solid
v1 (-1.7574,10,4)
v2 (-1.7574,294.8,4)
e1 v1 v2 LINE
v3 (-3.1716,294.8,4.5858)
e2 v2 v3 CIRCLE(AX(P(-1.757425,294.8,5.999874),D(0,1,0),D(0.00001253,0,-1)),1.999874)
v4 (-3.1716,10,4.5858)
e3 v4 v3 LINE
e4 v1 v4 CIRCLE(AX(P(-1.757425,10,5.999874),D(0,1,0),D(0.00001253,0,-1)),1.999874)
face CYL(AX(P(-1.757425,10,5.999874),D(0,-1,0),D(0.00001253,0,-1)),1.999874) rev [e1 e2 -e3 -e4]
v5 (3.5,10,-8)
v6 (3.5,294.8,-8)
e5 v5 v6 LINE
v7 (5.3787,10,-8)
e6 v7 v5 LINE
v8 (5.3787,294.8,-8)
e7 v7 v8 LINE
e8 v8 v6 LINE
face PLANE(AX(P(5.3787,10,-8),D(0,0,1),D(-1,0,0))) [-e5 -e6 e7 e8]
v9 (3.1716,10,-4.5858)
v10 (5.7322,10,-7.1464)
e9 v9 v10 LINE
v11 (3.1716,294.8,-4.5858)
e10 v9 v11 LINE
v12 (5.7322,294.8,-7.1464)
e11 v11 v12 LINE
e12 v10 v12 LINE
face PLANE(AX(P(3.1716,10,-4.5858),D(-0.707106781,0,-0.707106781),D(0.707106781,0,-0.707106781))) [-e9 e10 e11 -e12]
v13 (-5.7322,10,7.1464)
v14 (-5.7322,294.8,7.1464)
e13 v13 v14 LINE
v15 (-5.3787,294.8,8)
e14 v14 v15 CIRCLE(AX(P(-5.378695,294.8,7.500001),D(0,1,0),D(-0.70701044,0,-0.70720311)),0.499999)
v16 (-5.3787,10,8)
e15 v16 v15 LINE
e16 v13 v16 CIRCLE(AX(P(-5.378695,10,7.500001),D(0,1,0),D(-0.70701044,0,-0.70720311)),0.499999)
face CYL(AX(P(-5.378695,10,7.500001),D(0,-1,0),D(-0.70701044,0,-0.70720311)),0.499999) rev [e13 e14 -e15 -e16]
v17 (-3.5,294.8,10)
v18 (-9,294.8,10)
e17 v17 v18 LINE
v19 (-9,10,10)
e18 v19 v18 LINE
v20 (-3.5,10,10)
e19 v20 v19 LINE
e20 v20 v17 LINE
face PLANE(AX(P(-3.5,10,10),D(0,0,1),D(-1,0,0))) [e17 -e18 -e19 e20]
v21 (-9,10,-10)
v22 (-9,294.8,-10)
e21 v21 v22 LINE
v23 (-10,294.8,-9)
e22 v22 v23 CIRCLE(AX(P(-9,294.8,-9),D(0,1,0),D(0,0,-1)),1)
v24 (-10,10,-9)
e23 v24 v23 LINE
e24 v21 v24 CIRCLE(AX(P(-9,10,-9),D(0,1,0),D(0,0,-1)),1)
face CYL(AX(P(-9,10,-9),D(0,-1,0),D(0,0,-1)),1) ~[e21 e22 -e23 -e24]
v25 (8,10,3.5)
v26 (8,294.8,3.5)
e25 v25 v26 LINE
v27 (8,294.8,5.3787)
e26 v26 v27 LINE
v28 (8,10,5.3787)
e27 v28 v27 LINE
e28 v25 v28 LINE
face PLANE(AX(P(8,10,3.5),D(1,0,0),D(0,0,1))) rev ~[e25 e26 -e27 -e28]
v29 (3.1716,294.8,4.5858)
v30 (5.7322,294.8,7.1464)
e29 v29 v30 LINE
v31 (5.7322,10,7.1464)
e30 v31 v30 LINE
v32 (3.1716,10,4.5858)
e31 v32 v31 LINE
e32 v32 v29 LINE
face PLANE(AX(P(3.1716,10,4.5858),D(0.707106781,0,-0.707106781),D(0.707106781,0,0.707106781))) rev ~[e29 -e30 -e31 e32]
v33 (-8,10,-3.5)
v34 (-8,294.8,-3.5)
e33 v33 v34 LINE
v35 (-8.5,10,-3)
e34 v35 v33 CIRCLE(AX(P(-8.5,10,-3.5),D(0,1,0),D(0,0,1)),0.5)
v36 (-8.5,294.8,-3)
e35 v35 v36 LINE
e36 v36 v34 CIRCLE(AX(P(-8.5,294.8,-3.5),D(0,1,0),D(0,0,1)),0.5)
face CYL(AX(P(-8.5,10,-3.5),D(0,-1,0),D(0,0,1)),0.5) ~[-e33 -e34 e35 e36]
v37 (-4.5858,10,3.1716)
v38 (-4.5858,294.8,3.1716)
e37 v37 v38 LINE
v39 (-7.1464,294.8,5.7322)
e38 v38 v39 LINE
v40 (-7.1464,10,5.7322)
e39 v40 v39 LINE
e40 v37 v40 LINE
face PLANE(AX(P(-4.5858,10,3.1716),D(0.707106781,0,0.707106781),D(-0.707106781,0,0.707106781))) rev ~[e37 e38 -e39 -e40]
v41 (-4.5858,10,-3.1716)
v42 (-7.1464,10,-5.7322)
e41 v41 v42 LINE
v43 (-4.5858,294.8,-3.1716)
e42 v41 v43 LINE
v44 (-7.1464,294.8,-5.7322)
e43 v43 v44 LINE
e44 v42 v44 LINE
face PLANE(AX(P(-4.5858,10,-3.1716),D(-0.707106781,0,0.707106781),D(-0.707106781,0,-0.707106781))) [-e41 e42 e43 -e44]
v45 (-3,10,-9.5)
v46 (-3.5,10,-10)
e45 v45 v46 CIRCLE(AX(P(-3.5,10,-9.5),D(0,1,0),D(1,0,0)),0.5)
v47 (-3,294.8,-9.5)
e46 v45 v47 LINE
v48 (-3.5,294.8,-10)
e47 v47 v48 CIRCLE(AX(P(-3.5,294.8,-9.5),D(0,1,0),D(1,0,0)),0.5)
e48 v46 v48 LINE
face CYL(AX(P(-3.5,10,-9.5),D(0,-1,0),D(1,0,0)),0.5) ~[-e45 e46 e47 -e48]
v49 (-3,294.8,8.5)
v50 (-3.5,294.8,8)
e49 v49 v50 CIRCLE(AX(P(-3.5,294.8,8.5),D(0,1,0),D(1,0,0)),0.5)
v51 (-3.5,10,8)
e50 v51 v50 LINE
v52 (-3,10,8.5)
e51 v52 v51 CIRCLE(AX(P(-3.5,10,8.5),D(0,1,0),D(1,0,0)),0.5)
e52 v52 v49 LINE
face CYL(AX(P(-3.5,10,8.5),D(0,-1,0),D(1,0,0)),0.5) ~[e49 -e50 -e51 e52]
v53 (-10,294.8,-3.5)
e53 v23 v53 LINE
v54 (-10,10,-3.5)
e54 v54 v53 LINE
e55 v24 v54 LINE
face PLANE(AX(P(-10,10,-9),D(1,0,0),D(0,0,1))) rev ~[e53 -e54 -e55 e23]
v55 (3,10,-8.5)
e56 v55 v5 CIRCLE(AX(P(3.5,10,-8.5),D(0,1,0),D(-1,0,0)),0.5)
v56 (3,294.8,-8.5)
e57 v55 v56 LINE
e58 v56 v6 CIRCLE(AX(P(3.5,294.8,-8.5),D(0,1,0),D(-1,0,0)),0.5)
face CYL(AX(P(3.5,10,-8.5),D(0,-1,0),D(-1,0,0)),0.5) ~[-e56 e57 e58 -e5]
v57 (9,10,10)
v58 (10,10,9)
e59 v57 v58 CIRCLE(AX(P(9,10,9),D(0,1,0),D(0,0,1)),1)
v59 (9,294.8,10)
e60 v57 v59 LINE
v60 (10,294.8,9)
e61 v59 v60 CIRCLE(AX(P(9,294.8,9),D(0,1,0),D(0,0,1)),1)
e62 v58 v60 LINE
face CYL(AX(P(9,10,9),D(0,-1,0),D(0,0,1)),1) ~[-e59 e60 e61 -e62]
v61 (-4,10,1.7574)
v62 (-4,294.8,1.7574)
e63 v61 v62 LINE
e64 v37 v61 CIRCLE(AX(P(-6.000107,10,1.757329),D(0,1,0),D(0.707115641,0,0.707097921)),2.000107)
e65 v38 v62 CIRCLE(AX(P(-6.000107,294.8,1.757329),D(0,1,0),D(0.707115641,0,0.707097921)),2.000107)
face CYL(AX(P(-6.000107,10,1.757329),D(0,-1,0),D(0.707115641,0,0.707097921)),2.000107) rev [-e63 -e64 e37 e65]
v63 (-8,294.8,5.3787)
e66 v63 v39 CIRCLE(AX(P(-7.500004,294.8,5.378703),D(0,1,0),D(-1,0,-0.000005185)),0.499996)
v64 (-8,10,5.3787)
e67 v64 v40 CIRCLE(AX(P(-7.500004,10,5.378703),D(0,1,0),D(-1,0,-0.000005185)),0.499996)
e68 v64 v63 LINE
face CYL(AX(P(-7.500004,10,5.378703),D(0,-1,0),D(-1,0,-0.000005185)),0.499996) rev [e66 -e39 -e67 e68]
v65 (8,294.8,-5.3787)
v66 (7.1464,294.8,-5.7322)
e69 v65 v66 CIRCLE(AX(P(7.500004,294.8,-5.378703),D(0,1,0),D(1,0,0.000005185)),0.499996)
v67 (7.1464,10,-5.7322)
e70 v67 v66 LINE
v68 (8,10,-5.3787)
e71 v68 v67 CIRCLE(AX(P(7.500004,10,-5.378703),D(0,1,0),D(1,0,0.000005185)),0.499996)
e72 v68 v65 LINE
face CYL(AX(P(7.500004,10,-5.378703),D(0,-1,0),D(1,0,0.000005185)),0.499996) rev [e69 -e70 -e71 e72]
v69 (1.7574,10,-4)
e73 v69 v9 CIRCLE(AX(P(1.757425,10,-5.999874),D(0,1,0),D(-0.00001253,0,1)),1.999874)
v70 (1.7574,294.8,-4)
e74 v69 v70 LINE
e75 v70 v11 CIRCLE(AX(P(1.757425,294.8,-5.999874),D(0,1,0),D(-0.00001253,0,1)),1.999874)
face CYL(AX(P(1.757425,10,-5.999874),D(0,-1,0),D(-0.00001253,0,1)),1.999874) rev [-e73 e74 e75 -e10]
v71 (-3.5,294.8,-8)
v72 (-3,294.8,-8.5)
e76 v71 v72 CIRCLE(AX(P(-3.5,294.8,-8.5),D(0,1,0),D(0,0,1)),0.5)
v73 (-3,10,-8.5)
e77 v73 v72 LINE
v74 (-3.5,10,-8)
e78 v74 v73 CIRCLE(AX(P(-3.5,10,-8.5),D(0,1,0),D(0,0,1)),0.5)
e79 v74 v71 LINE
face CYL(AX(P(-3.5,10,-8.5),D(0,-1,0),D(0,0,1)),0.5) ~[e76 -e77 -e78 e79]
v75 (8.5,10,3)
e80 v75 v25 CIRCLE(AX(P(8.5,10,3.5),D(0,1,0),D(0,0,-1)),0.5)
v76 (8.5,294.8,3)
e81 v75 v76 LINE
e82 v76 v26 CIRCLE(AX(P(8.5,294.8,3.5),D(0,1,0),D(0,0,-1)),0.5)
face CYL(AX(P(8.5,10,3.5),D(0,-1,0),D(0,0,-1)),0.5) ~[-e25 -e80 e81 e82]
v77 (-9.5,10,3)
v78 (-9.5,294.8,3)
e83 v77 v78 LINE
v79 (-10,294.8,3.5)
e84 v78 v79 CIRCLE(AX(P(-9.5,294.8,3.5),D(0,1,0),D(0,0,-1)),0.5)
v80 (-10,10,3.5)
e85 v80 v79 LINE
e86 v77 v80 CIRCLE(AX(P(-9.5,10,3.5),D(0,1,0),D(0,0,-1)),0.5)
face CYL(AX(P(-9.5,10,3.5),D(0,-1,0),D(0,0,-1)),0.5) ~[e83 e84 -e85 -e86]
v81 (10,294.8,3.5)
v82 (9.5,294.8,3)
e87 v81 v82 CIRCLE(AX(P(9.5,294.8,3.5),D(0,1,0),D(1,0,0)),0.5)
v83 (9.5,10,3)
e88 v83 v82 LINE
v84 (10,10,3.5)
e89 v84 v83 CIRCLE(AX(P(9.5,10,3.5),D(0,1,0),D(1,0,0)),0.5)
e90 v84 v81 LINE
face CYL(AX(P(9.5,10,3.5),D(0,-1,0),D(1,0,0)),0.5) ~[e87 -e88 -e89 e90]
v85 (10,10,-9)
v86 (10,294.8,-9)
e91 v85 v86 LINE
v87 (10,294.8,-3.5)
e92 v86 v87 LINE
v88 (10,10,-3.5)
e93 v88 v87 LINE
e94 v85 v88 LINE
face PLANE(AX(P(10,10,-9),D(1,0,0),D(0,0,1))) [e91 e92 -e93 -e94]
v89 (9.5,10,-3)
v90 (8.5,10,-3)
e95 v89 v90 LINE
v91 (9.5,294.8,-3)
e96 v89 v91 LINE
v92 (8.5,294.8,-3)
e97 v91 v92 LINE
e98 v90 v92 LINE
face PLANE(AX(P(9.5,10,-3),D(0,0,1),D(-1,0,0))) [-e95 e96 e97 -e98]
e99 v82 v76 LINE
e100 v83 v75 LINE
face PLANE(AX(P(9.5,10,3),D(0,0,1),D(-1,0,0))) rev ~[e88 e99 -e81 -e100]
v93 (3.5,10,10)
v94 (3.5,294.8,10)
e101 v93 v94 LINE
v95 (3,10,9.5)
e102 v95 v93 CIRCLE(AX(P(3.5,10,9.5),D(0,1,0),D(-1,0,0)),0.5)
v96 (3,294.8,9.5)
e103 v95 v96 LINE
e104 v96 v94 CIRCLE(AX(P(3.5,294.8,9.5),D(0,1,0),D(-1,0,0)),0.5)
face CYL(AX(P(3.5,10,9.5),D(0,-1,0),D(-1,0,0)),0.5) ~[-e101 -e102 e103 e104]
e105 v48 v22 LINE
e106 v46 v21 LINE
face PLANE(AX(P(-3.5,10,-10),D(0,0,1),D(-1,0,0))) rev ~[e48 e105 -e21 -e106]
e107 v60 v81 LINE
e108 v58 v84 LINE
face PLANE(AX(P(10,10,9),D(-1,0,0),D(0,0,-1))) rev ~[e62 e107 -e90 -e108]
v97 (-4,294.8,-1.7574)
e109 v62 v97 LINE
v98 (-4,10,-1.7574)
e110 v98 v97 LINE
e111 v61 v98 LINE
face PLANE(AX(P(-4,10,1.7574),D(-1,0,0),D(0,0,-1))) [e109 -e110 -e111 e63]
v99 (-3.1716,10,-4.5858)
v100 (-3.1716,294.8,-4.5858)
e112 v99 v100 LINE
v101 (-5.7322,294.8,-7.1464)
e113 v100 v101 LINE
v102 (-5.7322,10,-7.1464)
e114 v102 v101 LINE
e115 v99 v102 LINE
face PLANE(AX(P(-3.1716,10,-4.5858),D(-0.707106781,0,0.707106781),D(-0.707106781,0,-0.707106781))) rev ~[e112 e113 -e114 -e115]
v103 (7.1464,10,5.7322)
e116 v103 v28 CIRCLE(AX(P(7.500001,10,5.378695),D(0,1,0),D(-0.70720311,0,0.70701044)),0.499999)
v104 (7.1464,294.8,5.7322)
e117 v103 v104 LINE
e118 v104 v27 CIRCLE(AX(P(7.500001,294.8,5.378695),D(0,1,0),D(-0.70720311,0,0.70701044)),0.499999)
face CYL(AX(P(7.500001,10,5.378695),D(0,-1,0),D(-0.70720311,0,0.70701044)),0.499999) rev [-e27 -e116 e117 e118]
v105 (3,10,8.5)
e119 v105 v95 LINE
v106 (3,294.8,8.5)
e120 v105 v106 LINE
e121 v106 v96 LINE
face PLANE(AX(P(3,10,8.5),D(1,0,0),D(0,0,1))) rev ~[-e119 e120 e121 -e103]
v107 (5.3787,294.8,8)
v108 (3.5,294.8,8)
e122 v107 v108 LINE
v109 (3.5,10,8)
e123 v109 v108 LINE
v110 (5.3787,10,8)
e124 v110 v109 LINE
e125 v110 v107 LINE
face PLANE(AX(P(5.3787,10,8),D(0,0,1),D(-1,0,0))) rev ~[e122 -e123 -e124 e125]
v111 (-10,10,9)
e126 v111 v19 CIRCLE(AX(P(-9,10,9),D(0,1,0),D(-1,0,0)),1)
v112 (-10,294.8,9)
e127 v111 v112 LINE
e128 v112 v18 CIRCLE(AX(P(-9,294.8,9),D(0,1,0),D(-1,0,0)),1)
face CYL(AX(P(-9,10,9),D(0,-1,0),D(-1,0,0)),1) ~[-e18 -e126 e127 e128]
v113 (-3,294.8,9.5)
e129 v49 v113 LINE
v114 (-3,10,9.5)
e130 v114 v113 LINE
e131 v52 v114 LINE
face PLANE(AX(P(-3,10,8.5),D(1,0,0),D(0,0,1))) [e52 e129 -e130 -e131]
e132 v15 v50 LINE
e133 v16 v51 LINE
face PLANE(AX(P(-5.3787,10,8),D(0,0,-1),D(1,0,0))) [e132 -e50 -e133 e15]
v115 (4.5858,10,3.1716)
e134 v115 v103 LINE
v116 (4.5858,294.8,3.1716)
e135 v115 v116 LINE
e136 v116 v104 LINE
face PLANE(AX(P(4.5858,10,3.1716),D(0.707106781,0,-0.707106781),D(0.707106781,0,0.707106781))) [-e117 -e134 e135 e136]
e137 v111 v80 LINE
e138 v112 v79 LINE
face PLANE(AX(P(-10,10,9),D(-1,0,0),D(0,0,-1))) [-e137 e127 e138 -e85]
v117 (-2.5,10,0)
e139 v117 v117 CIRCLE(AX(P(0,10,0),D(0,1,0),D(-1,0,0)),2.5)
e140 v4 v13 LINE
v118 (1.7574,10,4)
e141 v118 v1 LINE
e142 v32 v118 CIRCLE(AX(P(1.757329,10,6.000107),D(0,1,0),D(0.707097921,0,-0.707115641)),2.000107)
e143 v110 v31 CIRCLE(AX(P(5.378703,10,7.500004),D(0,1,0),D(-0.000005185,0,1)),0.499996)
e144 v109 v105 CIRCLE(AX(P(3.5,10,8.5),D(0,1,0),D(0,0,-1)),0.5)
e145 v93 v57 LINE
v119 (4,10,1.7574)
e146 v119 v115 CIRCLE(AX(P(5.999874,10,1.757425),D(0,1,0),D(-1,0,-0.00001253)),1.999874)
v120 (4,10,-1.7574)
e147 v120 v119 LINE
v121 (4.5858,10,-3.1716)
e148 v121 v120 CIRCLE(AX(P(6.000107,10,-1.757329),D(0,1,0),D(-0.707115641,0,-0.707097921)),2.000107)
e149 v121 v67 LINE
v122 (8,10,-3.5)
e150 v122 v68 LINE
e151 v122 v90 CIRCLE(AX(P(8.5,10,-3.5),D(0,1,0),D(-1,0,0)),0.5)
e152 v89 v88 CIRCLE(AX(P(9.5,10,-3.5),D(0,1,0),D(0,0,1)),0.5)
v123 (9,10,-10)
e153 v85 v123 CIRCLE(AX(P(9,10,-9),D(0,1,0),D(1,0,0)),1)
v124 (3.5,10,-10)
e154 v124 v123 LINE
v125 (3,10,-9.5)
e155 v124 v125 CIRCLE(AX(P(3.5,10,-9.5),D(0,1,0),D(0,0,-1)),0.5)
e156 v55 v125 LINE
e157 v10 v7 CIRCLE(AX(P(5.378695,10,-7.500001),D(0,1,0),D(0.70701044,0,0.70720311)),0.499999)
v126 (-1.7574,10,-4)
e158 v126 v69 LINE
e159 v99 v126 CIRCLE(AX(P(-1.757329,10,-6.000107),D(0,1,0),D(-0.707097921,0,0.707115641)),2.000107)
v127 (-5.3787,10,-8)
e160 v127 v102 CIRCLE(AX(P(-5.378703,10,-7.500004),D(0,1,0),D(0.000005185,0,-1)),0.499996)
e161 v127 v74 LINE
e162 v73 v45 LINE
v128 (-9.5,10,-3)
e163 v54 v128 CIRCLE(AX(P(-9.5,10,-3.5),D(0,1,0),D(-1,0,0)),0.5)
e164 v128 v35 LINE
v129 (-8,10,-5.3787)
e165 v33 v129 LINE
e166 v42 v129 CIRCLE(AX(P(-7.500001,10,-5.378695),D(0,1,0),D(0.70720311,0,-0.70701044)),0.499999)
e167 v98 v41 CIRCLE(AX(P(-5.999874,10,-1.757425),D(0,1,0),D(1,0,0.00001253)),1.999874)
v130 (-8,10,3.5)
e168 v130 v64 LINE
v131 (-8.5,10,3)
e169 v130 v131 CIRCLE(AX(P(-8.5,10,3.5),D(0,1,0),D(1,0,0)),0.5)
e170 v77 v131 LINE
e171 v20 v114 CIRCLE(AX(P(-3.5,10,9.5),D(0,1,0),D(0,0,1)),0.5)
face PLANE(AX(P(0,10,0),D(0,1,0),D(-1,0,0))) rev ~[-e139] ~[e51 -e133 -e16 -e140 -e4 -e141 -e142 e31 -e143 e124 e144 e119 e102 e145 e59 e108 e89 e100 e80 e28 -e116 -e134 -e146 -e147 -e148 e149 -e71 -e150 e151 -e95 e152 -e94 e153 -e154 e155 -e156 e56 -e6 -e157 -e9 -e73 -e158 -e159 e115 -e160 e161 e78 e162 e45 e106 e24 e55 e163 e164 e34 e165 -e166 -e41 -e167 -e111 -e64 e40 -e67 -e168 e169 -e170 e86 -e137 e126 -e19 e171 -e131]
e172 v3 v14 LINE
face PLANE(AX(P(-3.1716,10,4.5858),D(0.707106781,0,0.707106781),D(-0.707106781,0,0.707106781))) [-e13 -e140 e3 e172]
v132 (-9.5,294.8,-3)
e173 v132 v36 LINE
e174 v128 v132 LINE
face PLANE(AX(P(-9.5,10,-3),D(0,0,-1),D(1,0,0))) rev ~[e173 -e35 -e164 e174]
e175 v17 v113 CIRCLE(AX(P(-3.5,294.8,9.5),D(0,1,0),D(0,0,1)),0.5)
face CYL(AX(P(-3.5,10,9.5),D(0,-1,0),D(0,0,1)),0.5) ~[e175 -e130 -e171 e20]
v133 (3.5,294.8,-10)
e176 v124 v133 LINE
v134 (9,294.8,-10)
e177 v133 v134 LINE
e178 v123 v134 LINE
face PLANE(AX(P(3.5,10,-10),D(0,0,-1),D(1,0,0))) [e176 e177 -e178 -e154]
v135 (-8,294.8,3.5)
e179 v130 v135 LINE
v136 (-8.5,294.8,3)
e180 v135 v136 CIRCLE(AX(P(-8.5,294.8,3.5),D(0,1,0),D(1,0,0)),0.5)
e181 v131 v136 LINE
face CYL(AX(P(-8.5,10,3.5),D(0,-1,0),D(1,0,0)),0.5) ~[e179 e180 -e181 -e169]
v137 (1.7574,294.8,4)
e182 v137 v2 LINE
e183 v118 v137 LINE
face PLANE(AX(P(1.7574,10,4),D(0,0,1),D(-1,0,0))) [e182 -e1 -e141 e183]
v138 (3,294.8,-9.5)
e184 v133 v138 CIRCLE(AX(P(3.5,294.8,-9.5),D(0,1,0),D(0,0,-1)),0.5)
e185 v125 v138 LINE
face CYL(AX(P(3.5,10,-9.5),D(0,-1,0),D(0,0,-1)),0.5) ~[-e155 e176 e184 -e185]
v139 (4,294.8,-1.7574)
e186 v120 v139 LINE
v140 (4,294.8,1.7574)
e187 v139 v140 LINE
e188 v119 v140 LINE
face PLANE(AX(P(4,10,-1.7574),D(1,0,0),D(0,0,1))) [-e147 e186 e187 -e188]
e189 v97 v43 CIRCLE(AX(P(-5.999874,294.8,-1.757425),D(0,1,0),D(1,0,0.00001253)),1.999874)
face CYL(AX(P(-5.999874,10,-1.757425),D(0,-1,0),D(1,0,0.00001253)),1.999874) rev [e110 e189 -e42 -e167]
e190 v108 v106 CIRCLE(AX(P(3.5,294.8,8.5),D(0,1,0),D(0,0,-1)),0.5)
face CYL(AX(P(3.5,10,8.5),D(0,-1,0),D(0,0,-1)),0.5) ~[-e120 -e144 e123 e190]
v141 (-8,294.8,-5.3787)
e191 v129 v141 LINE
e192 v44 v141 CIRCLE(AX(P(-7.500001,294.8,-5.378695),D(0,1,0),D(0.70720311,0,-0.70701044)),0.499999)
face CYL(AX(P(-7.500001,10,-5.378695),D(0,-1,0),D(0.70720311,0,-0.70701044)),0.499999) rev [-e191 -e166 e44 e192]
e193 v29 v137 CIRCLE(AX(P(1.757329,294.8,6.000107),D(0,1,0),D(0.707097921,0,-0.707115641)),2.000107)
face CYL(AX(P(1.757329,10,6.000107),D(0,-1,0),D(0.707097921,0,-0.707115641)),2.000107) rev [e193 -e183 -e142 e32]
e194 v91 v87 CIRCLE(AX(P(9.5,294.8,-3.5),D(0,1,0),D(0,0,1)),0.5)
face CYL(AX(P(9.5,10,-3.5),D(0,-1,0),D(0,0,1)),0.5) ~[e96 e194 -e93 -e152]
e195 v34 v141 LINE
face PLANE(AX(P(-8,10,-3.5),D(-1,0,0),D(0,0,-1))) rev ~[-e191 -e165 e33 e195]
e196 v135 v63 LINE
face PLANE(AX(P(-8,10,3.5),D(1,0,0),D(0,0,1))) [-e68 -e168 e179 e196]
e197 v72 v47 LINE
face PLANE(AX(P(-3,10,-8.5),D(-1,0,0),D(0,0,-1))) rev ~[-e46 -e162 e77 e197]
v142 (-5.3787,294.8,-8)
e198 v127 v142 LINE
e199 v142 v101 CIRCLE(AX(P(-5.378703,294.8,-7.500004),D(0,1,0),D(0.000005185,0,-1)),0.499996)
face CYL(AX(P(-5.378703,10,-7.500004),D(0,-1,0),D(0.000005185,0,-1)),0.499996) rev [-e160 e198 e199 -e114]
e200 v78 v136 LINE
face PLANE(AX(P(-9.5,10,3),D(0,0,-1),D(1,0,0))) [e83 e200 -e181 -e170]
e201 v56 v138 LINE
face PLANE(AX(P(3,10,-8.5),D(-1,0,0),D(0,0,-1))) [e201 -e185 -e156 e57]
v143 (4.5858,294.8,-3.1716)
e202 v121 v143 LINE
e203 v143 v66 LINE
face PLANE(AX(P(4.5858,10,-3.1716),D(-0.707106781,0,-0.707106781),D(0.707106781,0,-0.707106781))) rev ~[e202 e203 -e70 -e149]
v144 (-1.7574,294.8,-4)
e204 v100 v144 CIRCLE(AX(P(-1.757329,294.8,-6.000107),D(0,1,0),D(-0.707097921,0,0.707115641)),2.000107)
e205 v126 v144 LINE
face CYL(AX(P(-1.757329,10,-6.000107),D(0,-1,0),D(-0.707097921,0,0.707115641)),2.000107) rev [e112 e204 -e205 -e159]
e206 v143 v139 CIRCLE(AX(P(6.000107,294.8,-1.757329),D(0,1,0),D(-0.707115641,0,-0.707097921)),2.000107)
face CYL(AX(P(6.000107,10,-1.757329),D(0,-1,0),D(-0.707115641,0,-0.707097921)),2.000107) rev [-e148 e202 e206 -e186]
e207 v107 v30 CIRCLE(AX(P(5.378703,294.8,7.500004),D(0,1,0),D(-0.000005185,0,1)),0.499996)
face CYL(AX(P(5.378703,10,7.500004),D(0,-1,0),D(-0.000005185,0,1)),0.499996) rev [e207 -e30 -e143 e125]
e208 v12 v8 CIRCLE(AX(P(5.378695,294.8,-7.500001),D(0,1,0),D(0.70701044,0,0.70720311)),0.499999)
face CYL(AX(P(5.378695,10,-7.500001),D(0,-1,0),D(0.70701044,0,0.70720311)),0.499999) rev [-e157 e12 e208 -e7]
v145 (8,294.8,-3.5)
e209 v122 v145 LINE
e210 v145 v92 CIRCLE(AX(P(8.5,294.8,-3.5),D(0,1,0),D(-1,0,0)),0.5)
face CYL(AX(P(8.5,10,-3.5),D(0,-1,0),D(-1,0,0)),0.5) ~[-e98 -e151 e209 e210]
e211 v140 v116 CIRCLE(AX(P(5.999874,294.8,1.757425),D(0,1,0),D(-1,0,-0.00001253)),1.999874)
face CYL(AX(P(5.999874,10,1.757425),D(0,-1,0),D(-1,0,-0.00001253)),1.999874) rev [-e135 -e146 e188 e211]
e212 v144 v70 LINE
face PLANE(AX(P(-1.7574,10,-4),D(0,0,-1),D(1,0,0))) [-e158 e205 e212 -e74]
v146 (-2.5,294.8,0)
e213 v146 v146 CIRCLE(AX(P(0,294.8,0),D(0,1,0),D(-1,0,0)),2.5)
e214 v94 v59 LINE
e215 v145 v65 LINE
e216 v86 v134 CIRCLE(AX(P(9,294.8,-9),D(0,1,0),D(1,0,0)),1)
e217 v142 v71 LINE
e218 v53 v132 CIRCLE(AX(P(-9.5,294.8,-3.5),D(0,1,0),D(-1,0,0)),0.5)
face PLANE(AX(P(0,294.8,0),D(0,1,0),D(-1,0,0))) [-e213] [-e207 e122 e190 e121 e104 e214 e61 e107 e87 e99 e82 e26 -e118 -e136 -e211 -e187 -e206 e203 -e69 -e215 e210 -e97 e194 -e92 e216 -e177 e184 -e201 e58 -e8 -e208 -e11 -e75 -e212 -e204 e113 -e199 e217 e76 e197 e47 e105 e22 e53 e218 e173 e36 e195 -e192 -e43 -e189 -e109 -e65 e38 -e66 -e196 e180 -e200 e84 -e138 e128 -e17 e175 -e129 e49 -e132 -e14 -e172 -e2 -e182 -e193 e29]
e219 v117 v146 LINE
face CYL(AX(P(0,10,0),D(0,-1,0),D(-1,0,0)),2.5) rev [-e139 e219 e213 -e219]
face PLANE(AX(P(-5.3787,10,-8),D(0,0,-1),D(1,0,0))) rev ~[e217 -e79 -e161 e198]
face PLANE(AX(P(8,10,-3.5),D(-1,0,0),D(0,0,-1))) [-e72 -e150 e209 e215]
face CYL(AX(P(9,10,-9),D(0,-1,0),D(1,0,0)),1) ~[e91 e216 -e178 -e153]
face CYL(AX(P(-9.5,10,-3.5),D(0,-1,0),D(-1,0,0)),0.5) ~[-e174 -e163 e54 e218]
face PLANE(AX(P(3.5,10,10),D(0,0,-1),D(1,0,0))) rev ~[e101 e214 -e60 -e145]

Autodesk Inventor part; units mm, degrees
ref_plane "Start Plane" through (0, 10, 0) normal (0, 1, 0) x (-1, 0, 0)
ref_plane "End Plane" through (0, 294.8, 0) normal (0, 1, 0) x (-1, 0, 0)
sketch "Sketch" plane through (0, 0, 0) normal (0, 1, 0) x (-1, 0, 0)
  line L0 (-1.7574, 4) -> (1.7574, 4)
  line L1 (4, 1.7574) -> (4, -1.7574)
  line L2 (1.7574, -4) -> (-1.7574, -4)
  line L3 (-4, -1.7574) -> (-4, 1.7574)
  line L4 (4.5858, -3.1716) -> (7.1464, -5.7322)
  line L5 (3.1716, -4.5858) -> (5.7322, -7.1464)
  line L6 (5.3787, -8) -> (3.5, -8)
  line L7 (3, -8.5) -> (3, -9.5)
  line L8 (3.5, -10) -> (9, -10)
  line L9 (10, -9) -> (10, -3.5)
  line L10 (9.5, -3) -> (8.5, -3)
  line L11 (8, -3.5) -> (8, -5.3787)
  line L12 (4, 0) -> (-4, 0) construction
  line L13 (0, -4) -> (0, 4) construction
  arc A0 (4, -1.7574) -> (4.5858, -3.1716) centre (6, -1.7574) ccw
  arc A1 (3.1716, -4.5858) -> (1.7574, -4) centre (1.7574, -6) ccw
  arc A2 (3.5, -8) -> (3, -8.5) centre (3.5, -8.5) ccw
  arc A3 (3, -9.5) -> (3.5, -10) centre (3.5, -9.5) ccw
  arc A4 (10, -3.5) -> (9.5, -3) centre (9.5, -3.5) ccw
  arc A5 (8.5, -3) -> (8, -3.5) centre (8.5, -3.5) ccw
  arc A6 (7.1464, -5.7322) -> (8, -5.3787) centre (7.5, -5.3787) ccw
  arc A7 (5.3787, -8) -> (5.7322, -7.1464) centre (5.3787, -7.5) ccw
  arc A8 (9, -10) -> (10, -9) centre (9, -9) ccw
  line L14 (-4.5858, -3.1716) -> (-7.1464, -5.7322)
  line L15 (-3.1716, -4.5858) -> (-5.7322, -7.1464)
  line L16 (-5.3787, -8) -> (-3.5, -8)
  line L17 (-3, -8.5) -> (-3, -9.5)
  line L18 (-3.5, -10) -> (-9, -10)
  line L19 (-10, -9) -> (-10, -3.5)
  line L20 (-9.5, -3) -> (-8.5, -3)
  line L21 (-8, -3.5) -> (-8, -5.3787)
  arc A9 (-4.5858, -3.1716) -> (-4, -1.7574) centre (-6, -1.7574) ccw
  arc A10 (-1.7574, -4) -> (-3.1716, -4.5858) centre (-1.7574, -6) ccw
  arc A11 (-3, -8.5) -> (-3.5, -8) centre (-3.5, -8.5) ccw
  arc A12 (-3.5, -10) -> (-3, -9.5) centre (-3.5, -9.5) ccw
  arc A13 (-9.5, -3) -> (-10, -3.5) centre (-9.5, -3.5) ccw
  arc A14 (-8, -3.5) -> (-8.5, -3) centre (-8.5, -3.5) ccw
  arc A15 (-8, -5.3787) -> (-7.1464, -5.7322) centre (-7.5, -5.3787) ccw
  arc A16 (-5.7322, -7.1464) -> (-5.3787, -8) centre (-5.3787, -7.5) ccw
  arc A17 (-10, -9) -> (-9, -10) centre (-9, -9) ccw
  line L22 (4.5858, 3.1716) -> (7.1464, 5.7322)
  line L23 (3.1716, 4.5858) -> (5.7322, 7.1464)
  line L24 (5.3787, 8) -> (3.5, 8)
  line L25 (3, 8.5) -> (3, 9.5)
  line L26 (3.5, 10) -> (9, 10)
  line L27 (10, 9) -> (10, 3.5)
  line L28 (9.5, 3) -> (8.5, 3)
  line L29 (8, 3.5) -> (8, 5.3787)
  arc A18 (4.5858, 3.1716) -> (4, 1.7574) centre (6, 1.7574) ccw
  arc A19 (1.7574, 4) -> (3.1716, 4.5858) centre (1.7574, 6) ccw
  arc A20 (3, 8.5) -> (3.5, 8) centre (3.5, 8.5) ccw
  arc A21 (3.5, 10) -> (3, 9.5) centre (3.5, 9.5) ccw
  arc A22 (9.5, 3) -> (10, 3.5) centre (9.5, 3.5) ccw
  arc A23 (8, 3.5) -> (8.5, 3) centre (8.5, 3.5) ccw
  arc A24 (8, 5.3787) -> (7.1464, 5.7322) centre (7.5, 5.3787) ccw
  arc A25 (5.7322, 7.1464) -> (5.3787, 8) centre (5.3787, 7.5) ccw
  arc A26 (10, 9) -> (9, 10) centre (9, 9) ccw
  line L30 (-10, 9) -> (-10, 3.5)
  arc A27 (-9, 10) -> (-10, 9) centre (-9, 9) ccw
  arc A28 (-10, 3.5) -> (-9.5, 3) centre (-9.5, 3.5) ccw
  line L31 (-9.5, 3) -> (-8.5, 3)
  arc A29 (-8.5, 3) -> (-8, 3.5) centre (-8.5, 3.5) ccw
  line L32 (-8, 3.5) -> (-8, 5.3787)
  arc A30 (-7.1464, 5.7322) -> (-8, 5.3787) centre (-7.5, 5.3787) ccw
  line L33 (-4.5858, 3.1716) -> (-7.1464, 5.7322)
  line L34 (-3.1716, 4.5858) -> (-5.7322, 7.1464)
  arc A31 (-3.1716, 4.5858) -> (-1.7574, 4) centre (-1.7574, 6) ccw
  arc A32 (-4, 1.7574) -> (-4.5858, 3.1716) centre (-6, 1.7574) ccw
  arc A33 (-5.3787, 8) -> (-5.7322, 7.1464) centre (-5.3787, 7.5) ccw
  line L35 (-5.3787, 8) -> (-3.5, 8)
  arc A34 (-3.5, 8) -> (-3, 8.5) centre (-3.5, 8.5) ccw
  line L36 (-3, 8.5) -> (-3, 9.5)
  arc A35 (-3, 9.5) -> (-3.5, 10) centre (-3.5, 9.5) ccw
  line L37 (-3.5, 10) -> (-9, 10)
  circle A36 centre (0, 0) radius 2.5
  point P0 (3, -8)
  point P1 (3, -10)
  point P2 (10, -10)
  dimension "d3" = 2
  dimension "d4" = 2
  dimension "d5" = 7
  dimension "d6" = 2
  dimension "d7" = 0.5
  dimension "d8" = 1
  dimension "d9" = 20
  dimension "d10" = 20
  dimension "d11" = 8
  dimension "d13" = 5
  dimension "d14" = 8
extrude "Body" add sketch "Sketch" along normal up to surface (284.8 mm away) from surface at 10
sketch "Sketch4" plane through (0, 0, 0) normal (0, 1, 0) x (-1, 0, 0)
  line L0 (0, 0) -> (10, 0)
ref_plane "Work Plane4" through (0, 0, 0) normal (0, 0, -1) x (-1, 0, 0)
sketch "Sketch5" plane through (0, 0, 0) normal (0, 0, -1) x (-1, 0, 0)
  line L0 (-2, 10) -> (12, 10)
  line L1 (-2, 294.8) -> (12, 294.8)
  dimension "d22" = 284.8
ref_plane "Work Plane5" through (0, 294.8, 3.5) normal (0, 1, 0) x (1, 0, 0)
split "Split1" plane through (0, 294.8, 3.5) removes the side toward (0, 1, 0)
ref_plane "Work Plane6" through (-279.4, 10, 3.5) normal (0, -1, 0) x (1, 0, 0)
split "Split2" plane through (-279.4, 10, 3.5) removes the side toward (0, -1, 0)
equation "\"d18\" = Length + G_OFFSET_END"
equation "\"G_L\" = d22"
equation "\"Length\" = 304.8"
equation "\"G_OFFSET_END\" = -10"
properties part number "A3.3"
